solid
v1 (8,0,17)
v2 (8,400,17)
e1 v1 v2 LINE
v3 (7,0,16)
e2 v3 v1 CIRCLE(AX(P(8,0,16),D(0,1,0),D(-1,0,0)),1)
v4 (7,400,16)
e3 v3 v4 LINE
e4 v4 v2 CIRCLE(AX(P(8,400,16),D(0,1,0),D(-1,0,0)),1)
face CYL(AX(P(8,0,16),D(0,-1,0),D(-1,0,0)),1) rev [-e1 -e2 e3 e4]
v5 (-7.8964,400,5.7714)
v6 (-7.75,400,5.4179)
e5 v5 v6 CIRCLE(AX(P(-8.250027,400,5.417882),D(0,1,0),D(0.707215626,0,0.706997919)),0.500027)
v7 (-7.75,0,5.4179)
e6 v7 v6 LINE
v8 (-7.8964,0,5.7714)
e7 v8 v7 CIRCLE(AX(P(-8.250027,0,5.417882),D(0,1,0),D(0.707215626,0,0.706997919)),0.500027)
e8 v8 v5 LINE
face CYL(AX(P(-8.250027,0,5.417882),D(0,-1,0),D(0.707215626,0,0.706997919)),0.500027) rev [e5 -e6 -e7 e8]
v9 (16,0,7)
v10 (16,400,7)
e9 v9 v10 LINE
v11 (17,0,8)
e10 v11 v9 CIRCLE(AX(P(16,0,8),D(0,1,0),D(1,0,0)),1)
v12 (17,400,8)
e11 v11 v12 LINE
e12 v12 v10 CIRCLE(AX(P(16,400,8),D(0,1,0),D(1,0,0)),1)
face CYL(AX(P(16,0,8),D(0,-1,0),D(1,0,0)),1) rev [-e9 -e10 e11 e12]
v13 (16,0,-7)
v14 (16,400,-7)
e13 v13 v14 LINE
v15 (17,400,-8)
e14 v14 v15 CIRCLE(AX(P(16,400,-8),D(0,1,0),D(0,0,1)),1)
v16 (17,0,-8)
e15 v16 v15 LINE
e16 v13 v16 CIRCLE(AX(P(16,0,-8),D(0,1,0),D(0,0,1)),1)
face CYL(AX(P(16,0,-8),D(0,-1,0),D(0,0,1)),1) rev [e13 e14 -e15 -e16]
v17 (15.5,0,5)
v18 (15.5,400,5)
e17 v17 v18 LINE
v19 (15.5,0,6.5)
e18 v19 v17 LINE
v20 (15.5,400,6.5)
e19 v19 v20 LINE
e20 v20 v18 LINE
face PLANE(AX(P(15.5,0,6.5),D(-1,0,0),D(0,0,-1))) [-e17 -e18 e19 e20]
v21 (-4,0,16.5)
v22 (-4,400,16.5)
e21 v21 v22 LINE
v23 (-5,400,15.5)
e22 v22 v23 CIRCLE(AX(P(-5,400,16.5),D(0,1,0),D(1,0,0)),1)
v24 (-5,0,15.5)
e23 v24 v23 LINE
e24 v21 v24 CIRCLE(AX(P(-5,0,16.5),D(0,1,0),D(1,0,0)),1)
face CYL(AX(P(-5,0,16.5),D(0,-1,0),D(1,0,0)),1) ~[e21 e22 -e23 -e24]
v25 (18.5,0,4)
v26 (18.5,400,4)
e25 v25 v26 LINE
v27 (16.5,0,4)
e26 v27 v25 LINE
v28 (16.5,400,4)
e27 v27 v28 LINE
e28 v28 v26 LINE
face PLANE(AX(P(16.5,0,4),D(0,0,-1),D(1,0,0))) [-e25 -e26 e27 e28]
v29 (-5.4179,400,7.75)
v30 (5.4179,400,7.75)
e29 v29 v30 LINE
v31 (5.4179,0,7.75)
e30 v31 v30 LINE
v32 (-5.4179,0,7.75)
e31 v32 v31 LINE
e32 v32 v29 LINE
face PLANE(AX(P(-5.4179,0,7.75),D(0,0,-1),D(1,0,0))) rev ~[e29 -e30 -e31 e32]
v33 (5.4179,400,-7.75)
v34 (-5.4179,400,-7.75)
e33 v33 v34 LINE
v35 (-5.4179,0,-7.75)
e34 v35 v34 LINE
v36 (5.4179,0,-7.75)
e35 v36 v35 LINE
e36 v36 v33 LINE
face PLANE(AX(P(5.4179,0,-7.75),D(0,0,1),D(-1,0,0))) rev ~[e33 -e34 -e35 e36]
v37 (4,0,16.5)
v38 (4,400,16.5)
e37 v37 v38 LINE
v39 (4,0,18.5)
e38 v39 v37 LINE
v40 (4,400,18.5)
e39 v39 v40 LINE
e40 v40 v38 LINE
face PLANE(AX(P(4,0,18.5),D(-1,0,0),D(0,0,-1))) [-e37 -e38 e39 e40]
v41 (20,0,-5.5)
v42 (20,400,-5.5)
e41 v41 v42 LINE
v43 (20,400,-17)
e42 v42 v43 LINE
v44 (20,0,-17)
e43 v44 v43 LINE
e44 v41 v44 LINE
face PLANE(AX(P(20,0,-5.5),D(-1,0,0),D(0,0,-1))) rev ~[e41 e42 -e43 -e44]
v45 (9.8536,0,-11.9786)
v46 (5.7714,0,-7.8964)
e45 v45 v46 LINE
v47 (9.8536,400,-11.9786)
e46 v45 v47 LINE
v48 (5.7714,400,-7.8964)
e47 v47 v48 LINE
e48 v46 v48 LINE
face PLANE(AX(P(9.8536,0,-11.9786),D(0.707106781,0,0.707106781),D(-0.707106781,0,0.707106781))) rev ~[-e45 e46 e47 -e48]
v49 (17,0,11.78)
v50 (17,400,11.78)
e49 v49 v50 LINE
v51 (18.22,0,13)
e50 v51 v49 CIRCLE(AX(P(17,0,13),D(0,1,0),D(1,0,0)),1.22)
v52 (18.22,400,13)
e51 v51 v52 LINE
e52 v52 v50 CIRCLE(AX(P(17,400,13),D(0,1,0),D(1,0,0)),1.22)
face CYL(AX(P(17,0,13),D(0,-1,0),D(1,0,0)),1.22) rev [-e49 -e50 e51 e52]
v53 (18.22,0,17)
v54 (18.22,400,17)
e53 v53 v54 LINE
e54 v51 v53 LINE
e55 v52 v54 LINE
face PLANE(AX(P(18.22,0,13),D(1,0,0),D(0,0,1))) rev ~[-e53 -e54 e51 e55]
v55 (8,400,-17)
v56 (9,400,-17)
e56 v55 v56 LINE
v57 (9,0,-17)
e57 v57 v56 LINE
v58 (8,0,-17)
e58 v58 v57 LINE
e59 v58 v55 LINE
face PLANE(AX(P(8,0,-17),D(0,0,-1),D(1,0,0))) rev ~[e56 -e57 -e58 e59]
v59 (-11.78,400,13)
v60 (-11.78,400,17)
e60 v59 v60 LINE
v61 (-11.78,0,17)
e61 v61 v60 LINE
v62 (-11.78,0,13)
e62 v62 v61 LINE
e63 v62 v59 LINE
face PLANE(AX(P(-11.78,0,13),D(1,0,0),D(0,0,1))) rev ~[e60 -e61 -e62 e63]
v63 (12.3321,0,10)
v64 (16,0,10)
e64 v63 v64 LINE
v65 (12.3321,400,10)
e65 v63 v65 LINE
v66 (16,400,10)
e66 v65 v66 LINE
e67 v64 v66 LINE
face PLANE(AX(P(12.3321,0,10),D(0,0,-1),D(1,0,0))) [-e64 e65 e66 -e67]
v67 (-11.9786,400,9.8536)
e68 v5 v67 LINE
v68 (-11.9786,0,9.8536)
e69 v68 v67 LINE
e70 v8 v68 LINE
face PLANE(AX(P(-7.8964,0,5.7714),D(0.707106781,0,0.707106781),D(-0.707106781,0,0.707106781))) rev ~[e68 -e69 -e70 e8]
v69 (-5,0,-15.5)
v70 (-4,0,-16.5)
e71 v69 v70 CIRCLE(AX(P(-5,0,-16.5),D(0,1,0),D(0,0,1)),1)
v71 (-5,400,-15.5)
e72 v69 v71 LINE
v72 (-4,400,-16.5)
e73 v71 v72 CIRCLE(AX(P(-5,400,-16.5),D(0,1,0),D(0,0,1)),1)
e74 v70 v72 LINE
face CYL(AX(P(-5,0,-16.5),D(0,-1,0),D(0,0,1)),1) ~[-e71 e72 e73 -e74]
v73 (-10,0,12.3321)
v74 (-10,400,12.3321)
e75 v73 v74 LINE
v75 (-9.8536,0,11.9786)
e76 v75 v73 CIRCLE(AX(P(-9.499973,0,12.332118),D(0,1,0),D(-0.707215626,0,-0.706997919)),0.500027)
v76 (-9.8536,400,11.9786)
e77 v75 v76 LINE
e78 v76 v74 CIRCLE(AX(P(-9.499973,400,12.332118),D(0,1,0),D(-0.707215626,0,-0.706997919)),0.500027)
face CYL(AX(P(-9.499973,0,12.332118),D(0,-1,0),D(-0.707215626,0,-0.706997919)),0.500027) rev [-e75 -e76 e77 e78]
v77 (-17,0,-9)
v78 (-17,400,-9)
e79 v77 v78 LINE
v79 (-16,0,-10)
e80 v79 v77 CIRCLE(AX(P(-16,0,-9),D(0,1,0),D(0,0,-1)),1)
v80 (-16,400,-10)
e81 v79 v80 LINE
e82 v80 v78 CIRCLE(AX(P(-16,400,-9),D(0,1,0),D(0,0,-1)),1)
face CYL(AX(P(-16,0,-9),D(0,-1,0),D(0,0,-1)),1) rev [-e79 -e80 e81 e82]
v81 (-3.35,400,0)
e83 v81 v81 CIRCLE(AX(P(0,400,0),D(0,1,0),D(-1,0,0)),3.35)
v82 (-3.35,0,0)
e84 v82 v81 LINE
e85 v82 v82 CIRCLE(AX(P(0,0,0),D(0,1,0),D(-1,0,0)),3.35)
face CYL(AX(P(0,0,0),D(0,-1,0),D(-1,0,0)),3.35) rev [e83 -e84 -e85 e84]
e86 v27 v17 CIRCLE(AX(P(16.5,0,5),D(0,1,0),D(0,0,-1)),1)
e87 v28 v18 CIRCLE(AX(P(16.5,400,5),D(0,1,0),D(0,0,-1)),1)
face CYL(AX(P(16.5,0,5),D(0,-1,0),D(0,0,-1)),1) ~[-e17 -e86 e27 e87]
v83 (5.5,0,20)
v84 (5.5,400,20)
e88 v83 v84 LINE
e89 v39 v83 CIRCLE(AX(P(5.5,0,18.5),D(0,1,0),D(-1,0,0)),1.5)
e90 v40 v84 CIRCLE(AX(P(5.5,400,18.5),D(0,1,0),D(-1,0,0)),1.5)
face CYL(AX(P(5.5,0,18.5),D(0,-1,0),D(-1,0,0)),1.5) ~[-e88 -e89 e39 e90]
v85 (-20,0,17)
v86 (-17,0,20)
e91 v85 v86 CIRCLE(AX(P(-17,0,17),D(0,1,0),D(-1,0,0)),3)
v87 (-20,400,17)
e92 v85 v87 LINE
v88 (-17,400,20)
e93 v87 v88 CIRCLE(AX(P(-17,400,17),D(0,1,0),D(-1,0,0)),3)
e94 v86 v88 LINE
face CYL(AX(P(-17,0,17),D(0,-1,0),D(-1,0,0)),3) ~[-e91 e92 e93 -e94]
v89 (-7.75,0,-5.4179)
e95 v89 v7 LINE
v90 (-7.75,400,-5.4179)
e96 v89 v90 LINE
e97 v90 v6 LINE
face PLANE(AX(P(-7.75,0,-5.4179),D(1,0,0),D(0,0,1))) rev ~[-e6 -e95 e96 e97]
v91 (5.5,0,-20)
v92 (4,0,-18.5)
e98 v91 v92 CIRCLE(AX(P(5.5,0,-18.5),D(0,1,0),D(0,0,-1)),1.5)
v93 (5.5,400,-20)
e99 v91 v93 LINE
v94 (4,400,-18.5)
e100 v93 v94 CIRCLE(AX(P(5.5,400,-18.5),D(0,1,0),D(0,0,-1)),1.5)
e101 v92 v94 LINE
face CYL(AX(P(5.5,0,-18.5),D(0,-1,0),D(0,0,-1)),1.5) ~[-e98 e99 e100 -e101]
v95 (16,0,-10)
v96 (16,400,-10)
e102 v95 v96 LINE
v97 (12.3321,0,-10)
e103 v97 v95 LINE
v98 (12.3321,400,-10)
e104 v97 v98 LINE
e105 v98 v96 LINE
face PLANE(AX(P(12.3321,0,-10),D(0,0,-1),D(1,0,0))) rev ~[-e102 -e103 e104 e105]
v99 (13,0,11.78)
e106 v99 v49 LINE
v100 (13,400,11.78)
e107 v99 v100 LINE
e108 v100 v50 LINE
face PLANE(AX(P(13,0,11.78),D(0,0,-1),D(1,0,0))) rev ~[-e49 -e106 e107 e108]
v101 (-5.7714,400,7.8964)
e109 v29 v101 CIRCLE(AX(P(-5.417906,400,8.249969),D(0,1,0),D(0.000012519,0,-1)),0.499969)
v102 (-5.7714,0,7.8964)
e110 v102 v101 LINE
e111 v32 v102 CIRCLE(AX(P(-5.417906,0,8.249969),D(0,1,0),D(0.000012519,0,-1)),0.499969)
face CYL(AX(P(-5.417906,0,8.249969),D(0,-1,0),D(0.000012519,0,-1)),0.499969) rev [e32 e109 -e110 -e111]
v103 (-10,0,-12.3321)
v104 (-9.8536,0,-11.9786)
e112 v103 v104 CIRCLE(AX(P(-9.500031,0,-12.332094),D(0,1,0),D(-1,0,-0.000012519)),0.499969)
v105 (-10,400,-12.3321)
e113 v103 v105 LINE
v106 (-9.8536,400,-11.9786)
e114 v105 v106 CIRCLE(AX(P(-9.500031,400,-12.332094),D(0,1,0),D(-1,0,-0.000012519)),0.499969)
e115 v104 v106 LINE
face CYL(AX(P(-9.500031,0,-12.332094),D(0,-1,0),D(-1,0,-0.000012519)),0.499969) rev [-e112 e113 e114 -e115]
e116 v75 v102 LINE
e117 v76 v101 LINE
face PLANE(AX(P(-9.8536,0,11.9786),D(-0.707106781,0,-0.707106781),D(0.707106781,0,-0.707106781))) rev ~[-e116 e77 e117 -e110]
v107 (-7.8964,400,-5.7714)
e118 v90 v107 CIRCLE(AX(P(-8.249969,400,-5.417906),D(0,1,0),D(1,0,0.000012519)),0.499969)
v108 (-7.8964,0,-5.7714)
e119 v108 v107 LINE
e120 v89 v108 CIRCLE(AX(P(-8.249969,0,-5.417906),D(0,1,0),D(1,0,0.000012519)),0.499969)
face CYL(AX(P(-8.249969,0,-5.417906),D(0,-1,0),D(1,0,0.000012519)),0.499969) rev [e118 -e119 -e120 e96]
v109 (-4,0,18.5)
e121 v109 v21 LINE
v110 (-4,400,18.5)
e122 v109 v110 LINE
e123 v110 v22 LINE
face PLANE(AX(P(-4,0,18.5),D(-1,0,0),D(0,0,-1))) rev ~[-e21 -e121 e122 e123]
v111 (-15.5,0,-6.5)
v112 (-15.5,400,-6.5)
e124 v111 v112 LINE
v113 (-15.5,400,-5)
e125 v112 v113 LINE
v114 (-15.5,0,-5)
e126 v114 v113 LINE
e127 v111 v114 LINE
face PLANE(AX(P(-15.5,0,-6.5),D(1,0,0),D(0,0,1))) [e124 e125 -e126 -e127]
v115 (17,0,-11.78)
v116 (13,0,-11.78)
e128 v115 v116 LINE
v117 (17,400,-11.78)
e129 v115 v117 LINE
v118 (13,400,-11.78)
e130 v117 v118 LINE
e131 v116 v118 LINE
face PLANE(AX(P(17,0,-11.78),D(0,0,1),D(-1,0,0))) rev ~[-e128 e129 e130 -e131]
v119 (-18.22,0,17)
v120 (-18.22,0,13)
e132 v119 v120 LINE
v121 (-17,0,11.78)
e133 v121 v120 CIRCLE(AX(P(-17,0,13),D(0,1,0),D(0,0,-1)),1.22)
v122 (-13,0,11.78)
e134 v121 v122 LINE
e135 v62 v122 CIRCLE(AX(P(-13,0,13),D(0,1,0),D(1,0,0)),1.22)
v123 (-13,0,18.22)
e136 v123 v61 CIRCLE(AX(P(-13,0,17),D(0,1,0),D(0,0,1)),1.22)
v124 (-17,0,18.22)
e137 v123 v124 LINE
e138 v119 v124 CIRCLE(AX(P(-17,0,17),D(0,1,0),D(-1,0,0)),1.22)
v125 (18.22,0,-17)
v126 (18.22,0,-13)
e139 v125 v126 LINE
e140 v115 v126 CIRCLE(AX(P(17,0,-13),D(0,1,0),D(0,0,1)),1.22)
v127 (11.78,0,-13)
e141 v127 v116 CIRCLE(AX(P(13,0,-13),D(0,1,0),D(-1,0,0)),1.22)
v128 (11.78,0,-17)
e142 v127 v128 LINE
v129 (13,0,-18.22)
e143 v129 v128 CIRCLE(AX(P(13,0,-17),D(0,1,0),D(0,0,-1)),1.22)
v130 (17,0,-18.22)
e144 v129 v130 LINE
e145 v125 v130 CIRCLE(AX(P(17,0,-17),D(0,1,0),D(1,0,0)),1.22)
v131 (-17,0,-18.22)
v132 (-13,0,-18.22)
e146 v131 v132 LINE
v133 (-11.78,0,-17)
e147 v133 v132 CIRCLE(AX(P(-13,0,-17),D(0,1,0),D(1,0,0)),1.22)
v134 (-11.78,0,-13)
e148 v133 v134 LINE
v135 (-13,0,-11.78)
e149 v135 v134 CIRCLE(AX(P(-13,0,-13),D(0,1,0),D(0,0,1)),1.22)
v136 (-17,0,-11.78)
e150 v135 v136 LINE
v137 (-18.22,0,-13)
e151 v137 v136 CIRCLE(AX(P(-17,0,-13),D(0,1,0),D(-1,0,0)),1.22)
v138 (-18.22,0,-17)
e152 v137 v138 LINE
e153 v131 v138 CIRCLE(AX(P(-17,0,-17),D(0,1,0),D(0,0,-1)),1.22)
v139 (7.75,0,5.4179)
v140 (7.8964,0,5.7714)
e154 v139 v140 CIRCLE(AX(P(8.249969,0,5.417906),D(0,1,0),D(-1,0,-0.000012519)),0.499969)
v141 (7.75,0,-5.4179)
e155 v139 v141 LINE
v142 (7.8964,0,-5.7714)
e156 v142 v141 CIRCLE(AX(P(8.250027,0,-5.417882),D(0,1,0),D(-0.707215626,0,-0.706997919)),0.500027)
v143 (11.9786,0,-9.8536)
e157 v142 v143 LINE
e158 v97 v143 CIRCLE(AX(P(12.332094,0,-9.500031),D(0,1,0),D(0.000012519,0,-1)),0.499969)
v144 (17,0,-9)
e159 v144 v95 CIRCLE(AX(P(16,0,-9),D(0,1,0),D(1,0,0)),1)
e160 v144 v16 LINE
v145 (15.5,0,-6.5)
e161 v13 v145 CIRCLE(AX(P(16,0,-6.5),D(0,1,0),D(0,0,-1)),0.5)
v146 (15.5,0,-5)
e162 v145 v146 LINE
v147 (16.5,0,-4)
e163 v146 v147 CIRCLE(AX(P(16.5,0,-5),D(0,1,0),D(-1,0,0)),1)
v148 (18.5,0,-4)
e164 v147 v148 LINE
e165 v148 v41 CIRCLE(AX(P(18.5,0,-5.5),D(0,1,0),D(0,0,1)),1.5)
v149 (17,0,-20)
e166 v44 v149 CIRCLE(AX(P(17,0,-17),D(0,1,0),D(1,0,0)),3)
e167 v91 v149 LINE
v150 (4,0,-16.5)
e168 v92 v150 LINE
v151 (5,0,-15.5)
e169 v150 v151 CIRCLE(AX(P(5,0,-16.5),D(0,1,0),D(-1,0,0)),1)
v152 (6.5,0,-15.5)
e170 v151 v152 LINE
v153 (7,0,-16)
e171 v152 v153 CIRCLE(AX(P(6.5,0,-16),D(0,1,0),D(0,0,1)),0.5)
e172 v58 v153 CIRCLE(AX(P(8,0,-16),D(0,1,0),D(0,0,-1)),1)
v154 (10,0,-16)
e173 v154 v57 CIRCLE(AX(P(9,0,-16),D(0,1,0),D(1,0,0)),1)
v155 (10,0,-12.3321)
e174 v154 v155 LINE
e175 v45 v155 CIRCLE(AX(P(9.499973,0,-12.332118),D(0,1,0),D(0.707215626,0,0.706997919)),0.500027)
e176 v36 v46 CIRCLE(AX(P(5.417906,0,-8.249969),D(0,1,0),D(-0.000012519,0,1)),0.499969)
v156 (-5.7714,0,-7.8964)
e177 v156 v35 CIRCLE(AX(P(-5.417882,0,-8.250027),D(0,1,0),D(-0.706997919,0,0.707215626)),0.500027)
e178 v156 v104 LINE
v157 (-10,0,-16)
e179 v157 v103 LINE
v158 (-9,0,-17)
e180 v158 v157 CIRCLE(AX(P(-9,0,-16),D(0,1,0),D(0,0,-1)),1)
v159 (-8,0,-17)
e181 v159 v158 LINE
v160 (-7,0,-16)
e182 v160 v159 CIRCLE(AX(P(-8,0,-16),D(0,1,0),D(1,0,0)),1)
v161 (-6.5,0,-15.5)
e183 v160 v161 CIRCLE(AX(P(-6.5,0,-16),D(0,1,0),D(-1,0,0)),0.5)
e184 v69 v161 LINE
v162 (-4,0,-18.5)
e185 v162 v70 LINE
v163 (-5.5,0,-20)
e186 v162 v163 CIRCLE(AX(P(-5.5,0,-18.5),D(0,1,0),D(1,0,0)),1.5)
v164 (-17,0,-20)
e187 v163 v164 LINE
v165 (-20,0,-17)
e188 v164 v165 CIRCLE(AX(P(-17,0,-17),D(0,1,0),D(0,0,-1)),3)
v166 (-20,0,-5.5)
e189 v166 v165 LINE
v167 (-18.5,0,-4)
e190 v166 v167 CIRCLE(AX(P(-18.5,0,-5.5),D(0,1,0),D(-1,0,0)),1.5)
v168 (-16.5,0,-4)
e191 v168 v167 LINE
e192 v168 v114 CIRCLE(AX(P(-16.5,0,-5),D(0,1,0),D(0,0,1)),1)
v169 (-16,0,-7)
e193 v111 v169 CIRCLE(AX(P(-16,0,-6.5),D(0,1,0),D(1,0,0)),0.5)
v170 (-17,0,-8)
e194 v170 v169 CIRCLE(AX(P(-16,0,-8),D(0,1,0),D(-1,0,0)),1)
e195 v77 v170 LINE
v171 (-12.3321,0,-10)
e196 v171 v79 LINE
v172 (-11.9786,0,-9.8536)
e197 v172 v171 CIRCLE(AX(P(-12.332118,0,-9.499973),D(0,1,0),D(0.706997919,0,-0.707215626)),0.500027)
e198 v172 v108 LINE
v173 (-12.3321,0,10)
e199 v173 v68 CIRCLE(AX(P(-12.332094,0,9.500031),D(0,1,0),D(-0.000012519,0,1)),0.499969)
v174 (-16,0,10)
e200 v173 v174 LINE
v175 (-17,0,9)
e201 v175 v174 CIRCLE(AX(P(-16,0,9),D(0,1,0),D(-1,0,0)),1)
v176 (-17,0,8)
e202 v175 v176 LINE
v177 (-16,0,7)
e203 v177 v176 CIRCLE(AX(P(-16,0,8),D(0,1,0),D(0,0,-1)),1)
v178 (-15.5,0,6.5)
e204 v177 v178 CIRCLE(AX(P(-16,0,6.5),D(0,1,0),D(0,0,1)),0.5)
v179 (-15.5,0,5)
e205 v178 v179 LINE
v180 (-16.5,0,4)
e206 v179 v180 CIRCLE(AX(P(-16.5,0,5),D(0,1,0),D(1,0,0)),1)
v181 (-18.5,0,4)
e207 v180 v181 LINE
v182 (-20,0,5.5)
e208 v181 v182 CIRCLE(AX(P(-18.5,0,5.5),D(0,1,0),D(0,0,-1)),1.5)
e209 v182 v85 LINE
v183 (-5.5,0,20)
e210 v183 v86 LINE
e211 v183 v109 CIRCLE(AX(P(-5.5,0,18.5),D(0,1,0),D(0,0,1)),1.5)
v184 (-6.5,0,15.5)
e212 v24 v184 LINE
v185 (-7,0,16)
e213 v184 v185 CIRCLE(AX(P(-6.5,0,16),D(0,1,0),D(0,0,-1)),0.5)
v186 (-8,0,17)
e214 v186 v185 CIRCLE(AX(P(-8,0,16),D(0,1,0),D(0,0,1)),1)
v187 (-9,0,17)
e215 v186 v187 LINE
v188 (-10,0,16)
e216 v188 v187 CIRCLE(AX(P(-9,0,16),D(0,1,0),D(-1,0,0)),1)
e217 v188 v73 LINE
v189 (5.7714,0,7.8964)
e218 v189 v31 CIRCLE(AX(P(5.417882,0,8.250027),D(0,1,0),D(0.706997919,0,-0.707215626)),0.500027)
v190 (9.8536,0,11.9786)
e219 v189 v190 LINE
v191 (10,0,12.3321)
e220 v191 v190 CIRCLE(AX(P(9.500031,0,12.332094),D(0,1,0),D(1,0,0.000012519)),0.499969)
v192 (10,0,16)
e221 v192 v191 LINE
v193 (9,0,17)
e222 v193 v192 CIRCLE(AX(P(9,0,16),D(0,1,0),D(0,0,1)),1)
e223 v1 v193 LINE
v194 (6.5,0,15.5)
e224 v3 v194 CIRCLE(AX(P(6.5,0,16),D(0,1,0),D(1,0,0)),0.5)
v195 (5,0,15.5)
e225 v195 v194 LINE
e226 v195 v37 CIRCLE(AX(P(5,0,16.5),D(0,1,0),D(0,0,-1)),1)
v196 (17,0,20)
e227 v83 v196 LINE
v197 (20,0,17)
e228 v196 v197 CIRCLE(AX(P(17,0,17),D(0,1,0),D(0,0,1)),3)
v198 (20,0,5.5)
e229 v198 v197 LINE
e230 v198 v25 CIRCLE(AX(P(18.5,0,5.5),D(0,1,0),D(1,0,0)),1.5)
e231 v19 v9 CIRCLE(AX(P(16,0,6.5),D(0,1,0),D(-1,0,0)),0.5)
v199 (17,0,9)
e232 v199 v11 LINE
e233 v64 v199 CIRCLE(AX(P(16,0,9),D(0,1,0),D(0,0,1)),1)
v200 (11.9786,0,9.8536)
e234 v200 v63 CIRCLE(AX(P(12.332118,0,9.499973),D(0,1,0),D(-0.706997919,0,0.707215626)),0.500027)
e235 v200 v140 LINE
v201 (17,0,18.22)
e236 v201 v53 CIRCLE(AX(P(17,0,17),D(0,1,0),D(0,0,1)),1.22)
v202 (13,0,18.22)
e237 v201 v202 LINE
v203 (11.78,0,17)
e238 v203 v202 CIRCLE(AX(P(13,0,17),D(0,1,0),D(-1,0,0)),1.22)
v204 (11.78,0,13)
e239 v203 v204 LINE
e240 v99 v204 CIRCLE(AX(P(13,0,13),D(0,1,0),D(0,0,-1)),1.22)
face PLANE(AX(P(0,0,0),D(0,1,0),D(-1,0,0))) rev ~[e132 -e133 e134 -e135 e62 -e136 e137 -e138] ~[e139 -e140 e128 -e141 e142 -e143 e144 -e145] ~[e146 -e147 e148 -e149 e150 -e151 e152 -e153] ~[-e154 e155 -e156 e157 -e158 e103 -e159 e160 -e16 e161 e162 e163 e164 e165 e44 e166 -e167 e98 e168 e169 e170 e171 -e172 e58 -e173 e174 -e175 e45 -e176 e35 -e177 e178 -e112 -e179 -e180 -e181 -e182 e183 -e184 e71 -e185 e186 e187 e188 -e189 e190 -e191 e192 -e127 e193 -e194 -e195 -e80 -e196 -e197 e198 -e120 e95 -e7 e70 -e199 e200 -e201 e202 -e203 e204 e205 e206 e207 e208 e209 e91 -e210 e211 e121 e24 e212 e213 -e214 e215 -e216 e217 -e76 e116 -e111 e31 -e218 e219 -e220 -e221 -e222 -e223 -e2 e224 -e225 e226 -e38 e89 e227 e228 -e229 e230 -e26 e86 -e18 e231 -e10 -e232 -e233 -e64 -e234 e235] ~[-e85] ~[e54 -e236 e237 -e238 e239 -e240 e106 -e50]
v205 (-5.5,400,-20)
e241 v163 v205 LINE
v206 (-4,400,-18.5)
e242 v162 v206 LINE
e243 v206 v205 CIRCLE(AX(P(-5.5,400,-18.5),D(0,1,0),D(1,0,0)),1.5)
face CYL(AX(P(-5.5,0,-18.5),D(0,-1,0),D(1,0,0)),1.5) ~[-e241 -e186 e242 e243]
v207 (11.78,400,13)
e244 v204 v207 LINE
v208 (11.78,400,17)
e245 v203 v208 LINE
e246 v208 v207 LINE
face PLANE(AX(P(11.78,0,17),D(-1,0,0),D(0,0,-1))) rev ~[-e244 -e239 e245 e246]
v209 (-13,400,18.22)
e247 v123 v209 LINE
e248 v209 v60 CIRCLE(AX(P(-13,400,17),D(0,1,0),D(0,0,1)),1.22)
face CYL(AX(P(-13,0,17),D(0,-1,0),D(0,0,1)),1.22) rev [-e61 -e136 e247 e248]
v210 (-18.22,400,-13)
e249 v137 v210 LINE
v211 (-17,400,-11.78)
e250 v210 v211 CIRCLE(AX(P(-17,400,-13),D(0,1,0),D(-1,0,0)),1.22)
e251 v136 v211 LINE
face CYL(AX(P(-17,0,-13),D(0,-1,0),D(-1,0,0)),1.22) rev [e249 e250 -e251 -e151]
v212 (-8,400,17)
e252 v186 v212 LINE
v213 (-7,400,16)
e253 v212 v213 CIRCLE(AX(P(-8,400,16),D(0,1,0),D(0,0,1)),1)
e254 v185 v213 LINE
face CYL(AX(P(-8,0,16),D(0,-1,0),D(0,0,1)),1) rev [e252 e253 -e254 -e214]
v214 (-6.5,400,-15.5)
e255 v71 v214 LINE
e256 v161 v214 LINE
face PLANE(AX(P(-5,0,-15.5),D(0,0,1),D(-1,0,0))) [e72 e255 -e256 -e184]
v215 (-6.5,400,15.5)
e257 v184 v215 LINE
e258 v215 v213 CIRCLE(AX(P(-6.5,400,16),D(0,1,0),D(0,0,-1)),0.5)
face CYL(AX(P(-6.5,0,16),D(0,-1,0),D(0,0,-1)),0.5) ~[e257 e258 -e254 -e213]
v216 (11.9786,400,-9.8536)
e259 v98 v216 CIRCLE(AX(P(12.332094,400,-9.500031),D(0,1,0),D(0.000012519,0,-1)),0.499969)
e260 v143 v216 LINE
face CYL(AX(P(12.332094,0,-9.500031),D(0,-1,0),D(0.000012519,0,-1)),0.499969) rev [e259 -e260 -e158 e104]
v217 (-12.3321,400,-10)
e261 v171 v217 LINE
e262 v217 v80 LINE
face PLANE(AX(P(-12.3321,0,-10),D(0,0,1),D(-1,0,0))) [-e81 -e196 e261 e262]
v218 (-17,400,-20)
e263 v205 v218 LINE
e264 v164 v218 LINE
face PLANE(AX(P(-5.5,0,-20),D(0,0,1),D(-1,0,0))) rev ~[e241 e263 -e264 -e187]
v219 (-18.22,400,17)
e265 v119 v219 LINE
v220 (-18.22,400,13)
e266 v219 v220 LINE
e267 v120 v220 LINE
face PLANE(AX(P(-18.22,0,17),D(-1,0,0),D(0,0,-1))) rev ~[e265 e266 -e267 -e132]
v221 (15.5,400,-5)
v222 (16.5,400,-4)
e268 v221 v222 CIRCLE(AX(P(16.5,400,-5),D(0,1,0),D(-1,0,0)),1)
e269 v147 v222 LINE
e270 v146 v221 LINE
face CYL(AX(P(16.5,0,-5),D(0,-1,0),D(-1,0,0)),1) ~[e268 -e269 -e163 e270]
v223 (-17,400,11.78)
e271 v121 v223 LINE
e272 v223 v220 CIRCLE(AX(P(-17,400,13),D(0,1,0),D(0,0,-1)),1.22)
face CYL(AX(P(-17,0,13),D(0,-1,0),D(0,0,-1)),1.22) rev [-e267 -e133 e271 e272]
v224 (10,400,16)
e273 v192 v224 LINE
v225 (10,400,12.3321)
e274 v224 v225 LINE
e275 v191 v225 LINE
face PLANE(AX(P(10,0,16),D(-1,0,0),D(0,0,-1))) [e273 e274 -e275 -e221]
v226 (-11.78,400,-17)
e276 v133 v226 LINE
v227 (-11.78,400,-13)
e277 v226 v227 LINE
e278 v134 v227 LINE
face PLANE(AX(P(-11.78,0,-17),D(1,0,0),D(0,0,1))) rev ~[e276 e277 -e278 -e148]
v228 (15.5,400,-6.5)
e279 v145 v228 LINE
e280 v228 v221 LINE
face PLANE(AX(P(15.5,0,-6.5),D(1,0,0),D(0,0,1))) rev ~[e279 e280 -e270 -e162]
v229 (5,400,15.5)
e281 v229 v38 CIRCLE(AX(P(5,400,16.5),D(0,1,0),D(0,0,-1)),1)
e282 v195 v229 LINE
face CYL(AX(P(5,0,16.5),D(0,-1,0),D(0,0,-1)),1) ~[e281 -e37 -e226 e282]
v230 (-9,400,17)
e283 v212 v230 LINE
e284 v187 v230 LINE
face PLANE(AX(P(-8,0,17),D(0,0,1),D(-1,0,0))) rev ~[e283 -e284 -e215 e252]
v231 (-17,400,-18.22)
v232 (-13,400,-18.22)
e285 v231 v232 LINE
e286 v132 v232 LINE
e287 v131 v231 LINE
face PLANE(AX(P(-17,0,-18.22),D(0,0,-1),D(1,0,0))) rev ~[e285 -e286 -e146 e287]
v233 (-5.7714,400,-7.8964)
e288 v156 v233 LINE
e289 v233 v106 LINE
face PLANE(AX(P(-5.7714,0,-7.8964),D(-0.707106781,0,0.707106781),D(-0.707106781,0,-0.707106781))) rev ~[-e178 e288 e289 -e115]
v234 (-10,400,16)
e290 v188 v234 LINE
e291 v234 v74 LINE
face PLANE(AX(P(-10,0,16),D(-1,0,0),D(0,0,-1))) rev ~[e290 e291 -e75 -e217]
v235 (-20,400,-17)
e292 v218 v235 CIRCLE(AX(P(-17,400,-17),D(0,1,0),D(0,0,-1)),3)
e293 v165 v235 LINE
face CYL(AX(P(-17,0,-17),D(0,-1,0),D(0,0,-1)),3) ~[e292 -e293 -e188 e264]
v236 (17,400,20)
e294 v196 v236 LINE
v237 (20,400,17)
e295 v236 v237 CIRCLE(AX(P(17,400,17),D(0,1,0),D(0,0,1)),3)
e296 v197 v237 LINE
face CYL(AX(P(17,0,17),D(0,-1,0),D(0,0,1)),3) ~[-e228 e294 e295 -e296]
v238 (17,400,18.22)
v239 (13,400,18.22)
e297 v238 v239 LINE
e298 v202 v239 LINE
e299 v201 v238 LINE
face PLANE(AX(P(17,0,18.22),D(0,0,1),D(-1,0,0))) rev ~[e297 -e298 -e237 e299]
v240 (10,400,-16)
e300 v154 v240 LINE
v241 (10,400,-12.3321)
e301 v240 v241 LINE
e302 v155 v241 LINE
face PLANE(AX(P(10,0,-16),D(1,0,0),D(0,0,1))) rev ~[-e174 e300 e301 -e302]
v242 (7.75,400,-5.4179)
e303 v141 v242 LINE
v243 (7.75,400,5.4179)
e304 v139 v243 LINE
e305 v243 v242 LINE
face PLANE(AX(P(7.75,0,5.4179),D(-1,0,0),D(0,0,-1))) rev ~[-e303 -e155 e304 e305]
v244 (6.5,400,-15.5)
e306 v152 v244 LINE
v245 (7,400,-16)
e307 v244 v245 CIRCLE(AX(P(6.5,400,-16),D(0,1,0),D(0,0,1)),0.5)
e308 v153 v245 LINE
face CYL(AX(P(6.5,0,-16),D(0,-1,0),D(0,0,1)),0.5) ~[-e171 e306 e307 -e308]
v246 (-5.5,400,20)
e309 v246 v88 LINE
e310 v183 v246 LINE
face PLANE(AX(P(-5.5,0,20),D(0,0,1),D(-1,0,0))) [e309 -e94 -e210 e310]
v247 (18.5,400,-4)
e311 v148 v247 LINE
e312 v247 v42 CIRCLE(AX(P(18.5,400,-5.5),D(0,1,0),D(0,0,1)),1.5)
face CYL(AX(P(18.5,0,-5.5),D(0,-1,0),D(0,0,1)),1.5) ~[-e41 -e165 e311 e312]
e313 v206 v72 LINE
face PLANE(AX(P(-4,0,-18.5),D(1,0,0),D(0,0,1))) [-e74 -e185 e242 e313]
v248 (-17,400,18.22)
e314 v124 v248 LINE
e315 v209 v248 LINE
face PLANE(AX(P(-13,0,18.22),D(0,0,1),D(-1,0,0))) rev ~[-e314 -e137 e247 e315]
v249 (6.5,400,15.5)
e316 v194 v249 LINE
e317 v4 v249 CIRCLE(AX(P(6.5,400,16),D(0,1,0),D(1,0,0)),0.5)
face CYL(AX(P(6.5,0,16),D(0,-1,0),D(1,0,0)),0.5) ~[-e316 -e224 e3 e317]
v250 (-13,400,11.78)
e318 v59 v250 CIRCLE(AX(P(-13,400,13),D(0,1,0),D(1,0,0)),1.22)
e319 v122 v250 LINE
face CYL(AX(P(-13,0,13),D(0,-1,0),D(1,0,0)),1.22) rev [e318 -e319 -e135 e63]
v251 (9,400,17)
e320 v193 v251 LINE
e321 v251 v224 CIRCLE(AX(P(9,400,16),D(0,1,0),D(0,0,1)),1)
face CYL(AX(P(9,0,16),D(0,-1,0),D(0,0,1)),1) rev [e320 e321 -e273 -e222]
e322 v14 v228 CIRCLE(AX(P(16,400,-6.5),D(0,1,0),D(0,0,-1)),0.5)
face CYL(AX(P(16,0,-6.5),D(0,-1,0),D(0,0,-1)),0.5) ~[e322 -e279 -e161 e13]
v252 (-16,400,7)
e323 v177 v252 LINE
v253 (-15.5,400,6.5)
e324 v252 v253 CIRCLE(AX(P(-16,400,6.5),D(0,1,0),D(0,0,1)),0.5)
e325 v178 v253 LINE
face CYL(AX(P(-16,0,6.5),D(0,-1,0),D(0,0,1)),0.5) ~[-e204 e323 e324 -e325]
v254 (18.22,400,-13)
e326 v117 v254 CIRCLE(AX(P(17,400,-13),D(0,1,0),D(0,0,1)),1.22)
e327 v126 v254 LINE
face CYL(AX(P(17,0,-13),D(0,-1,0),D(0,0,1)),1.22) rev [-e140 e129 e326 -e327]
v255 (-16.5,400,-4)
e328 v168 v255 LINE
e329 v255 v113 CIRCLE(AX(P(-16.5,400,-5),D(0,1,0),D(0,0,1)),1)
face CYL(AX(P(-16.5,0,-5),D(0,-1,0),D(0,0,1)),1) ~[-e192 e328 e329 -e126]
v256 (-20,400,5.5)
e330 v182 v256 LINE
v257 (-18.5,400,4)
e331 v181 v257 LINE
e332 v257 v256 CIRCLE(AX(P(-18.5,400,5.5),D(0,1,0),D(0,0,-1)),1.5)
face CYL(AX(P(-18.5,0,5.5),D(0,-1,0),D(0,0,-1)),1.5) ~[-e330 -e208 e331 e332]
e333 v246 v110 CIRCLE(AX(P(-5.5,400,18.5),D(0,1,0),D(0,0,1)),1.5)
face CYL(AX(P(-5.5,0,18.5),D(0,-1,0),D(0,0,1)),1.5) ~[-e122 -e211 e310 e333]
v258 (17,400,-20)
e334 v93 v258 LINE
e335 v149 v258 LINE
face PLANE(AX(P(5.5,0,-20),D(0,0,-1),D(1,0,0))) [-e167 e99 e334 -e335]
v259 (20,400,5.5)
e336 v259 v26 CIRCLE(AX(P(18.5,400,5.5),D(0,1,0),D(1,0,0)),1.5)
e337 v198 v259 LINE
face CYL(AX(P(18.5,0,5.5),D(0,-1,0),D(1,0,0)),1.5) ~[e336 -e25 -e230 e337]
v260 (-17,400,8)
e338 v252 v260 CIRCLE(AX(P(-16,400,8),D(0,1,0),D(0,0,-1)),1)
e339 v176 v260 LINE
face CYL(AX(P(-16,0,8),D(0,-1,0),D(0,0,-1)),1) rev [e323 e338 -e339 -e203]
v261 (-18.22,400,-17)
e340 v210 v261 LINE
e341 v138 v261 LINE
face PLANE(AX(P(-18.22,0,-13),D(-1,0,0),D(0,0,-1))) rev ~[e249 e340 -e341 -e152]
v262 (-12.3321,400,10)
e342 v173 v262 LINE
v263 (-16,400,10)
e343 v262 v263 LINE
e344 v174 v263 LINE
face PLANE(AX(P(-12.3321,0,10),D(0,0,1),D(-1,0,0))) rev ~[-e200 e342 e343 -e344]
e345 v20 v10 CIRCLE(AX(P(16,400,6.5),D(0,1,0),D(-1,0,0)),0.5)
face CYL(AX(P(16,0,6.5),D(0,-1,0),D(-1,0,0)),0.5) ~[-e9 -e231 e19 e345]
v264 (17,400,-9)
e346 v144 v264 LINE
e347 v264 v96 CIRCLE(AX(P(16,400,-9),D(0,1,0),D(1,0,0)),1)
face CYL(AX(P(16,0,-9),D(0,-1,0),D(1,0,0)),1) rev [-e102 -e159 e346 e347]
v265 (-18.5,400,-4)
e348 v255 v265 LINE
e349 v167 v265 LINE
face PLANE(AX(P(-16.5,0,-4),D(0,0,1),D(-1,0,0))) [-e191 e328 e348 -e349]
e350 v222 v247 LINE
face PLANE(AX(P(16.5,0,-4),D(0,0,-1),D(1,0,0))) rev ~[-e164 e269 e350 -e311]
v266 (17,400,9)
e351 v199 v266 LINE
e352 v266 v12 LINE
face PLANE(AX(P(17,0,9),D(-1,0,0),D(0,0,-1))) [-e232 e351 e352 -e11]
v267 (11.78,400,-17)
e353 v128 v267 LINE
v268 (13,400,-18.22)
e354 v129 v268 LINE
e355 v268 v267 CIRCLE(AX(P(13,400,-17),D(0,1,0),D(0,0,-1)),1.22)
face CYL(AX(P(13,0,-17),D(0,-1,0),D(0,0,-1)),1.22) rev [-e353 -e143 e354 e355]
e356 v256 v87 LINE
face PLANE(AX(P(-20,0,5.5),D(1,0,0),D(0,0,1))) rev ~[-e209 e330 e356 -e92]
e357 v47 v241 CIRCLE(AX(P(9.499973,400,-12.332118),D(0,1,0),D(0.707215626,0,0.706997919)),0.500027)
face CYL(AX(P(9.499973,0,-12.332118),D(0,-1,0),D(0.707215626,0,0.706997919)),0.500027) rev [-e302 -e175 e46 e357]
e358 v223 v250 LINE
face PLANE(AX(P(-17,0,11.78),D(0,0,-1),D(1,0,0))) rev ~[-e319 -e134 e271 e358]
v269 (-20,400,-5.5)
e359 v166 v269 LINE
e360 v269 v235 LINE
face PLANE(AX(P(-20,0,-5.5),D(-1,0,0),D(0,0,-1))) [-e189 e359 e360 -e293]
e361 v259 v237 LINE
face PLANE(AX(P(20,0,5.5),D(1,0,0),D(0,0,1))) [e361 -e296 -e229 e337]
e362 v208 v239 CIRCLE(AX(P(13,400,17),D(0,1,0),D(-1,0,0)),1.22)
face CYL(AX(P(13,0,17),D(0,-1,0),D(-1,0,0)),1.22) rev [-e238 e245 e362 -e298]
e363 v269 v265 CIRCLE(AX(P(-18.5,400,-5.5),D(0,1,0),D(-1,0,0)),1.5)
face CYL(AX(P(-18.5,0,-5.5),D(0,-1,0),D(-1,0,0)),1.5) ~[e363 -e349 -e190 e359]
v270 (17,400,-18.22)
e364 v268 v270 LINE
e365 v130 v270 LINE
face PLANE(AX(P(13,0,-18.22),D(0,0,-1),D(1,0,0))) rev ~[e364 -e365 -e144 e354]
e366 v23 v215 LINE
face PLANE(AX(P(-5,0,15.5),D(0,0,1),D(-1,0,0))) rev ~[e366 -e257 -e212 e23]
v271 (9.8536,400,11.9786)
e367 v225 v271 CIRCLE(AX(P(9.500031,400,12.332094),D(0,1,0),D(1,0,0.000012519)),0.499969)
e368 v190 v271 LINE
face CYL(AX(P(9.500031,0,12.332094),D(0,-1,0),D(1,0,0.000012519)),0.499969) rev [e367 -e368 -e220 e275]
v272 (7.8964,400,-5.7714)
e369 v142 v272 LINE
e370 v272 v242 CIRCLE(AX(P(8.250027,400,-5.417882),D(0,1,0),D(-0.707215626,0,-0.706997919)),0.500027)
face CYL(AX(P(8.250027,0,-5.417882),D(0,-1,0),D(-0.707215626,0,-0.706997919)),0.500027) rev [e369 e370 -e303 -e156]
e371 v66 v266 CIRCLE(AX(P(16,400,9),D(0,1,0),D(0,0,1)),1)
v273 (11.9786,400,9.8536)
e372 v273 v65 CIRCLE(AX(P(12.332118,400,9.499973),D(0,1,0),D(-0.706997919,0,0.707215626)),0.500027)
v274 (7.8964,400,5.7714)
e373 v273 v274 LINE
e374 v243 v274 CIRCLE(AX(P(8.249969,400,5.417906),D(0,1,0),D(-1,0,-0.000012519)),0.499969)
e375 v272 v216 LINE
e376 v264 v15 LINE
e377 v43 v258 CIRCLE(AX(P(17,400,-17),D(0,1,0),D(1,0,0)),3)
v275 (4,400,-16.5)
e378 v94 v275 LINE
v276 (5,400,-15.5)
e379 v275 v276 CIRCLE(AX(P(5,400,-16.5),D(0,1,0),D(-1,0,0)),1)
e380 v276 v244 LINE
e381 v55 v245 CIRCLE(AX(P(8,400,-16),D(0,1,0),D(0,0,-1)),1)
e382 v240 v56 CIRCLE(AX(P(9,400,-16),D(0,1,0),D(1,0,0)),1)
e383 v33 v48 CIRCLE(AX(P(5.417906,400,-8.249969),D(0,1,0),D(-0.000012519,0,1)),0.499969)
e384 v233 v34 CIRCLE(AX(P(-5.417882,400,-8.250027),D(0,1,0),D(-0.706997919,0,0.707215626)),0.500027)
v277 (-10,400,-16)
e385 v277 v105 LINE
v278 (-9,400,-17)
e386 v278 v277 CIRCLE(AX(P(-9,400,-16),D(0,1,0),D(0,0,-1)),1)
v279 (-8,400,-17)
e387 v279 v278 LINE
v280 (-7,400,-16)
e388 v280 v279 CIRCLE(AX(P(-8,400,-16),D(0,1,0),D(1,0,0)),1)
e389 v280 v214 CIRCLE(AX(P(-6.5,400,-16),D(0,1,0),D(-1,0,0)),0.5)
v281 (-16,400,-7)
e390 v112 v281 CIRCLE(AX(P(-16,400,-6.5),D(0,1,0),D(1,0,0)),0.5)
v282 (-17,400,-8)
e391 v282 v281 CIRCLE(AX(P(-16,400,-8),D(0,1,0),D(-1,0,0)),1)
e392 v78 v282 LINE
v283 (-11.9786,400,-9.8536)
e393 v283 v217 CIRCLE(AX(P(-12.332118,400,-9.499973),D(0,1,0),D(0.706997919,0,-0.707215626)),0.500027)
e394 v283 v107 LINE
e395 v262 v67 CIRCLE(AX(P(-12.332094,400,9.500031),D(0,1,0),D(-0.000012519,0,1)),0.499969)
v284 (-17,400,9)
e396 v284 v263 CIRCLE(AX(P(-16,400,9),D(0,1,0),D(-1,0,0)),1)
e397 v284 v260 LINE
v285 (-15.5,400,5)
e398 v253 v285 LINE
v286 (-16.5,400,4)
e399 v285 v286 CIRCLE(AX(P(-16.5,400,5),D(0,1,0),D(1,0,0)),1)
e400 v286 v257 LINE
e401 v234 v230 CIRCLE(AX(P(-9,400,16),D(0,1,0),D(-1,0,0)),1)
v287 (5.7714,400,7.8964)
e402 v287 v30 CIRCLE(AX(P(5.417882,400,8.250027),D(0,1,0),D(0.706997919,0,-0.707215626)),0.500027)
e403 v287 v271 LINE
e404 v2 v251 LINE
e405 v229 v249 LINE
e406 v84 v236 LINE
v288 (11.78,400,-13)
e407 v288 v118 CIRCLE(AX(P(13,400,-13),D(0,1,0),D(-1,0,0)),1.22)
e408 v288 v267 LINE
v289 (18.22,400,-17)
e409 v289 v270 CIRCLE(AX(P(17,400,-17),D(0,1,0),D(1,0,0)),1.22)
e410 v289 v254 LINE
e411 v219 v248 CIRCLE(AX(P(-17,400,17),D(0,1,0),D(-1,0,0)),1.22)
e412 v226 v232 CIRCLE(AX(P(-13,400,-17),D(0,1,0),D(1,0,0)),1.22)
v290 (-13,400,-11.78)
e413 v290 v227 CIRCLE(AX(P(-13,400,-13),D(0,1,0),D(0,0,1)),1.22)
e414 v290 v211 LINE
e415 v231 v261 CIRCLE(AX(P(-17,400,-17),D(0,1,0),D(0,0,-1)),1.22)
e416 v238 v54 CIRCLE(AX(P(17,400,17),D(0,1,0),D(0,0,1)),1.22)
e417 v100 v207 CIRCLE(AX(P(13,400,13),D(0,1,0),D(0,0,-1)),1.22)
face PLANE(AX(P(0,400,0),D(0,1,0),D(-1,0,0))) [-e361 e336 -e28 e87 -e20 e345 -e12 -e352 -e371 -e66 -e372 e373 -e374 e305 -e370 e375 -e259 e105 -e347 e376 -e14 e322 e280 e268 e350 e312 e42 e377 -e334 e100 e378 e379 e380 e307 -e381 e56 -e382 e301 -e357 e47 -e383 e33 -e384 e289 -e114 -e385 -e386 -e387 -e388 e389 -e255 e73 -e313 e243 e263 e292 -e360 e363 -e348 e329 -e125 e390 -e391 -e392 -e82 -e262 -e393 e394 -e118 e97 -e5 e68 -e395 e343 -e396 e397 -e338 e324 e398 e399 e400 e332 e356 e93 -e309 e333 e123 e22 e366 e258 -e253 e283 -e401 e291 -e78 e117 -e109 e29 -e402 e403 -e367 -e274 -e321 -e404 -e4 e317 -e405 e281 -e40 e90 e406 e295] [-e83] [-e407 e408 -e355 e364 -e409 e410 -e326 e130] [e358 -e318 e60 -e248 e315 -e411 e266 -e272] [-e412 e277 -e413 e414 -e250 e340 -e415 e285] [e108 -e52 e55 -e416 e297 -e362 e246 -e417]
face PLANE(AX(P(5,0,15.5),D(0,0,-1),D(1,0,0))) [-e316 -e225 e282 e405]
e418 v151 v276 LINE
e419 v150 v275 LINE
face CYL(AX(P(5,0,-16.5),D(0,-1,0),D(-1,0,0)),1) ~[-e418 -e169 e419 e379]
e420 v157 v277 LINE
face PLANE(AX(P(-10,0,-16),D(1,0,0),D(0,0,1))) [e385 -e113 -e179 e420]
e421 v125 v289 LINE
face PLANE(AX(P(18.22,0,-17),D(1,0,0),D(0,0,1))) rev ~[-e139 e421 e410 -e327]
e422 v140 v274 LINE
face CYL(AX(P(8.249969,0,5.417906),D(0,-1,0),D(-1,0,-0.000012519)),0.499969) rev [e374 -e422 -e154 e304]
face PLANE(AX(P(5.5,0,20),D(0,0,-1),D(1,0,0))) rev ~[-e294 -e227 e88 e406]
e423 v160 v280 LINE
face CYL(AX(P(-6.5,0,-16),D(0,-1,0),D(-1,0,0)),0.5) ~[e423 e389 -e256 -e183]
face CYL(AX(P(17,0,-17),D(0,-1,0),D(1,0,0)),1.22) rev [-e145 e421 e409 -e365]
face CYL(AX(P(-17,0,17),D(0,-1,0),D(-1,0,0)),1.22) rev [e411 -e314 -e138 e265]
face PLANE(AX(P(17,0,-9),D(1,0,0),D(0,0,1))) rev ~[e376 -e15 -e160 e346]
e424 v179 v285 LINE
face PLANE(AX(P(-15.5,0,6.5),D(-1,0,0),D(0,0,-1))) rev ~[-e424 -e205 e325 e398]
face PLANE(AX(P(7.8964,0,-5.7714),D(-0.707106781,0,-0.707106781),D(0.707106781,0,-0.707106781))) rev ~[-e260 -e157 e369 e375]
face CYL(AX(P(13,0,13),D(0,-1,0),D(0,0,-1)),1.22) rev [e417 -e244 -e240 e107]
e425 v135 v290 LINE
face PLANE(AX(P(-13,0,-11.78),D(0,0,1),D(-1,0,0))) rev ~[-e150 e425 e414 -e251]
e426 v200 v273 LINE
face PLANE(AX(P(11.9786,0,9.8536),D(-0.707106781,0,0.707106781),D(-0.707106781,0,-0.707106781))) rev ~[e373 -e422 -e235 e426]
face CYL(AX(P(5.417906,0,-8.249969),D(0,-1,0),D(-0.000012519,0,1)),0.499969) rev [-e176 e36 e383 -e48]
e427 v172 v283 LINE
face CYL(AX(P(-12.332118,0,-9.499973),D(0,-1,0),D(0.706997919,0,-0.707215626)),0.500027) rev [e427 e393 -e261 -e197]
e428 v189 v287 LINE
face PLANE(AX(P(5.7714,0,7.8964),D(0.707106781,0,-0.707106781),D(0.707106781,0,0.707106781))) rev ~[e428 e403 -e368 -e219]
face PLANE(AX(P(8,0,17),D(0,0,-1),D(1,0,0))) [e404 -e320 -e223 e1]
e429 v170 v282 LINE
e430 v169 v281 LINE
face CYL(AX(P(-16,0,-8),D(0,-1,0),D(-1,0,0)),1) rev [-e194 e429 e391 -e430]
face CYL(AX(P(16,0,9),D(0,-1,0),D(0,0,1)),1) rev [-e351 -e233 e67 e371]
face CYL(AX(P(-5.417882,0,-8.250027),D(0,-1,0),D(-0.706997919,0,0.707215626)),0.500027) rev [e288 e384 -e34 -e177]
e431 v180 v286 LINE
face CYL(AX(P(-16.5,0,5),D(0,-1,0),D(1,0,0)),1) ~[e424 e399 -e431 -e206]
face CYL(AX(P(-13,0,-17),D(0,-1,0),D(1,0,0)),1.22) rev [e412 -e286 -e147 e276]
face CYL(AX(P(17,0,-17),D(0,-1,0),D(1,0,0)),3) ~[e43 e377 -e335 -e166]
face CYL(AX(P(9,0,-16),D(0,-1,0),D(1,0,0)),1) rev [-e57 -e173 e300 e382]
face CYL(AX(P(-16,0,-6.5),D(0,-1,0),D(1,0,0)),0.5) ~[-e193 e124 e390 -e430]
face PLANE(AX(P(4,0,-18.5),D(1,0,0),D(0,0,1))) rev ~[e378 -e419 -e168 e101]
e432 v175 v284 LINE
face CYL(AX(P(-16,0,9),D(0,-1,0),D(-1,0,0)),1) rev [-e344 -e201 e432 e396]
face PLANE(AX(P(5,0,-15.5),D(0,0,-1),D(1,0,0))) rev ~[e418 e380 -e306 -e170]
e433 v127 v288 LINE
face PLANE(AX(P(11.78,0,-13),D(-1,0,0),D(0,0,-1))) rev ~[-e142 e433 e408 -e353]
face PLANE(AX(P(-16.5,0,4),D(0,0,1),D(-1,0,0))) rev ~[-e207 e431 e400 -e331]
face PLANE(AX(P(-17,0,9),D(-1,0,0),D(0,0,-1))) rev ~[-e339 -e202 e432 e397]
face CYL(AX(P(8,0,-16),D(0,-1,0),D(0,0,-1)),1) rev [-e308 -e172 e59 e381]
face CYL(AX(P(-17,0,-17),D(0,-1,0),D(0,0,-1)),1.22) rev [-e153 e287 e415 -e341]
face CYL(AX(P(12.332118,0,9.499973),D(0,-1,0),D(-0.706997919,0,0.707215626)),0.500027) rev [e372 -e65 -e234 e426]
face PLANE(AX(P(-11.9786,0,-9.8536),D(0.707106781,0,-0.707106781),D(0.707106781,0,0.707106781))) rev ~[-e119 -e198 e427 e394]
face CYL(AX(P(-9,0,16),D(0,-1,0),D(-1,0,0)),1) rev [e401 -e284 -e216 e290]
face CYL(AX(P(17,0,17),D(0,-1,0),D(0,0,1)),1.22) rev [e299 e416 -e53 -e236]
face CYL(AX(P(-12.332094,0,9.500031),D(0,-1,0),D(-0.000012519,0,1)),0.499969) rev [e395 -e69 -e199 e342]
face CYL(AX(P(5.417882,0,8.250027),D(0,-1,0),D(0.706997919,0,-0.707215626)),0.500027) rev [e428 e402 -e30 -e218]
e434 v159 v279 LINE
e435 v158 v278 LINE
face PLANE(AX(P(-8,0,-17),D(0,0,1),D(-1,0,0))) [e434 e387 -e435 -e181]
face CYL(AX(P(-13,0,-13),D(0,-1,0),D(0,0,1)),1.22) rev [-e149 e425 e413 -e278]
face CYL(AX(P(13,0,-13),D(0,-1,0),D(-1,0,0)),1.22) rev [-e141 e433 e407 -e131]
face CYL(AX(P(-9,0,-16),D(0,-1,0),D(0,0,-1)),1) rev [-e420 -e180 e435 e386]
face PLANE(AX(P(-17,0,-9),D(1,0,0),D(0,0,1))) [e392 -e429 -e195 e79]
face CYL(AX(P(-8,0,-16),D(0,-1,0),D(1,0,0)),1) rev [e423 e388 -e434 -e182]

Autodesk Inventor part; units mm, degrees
ref_plane "YZ Plane" through (0, 0, 0) normal (1, 0, 0) x (0, 1, 0)
ref_plane "Start Plane" through (0, 0, 0) normal (0, 1, 0) x (-1, 0, 0)
ref_plane "End Plane" through (0, 400, 0) normal (0, 1, 0) x (-1, 0, 0)
sketch "Sketch1" plane through (0, 0, 0) normal (0, 1, 0) x (-1, 0, 0)
  arc A0 (-9.8536, -11.9786) -> (-10, -12.3321) centre (-9.5, -12.3321) ccw
  line L0 (-9.8536, -11.9786) -> (-5.7714, -7.8964)
  arc A1 (-5.4179, -7.75) -> (-5.7714, -7.8964) centre (-5.4179, -8.25) ccw
  line L1 (-5.4179, -7.75) -> (5.4179, -7.75)
  arc A2 (5.7714, -7.8964) -> (5.4179, -7.75) centre (5.4179, -8.25) ccw
  line L2 (5.7714, -7.8964) -> (9.8536, -11.9786)
  arc A3 (10, -12.3321) -> (9.8536, -11.9786) centre (9.5, -12.3321) ccw
  arc A4 (11.9786, -9.8536) -> (12.3321, -10) centre (12.3321, -9.5) ccw
  line L3 (11.9786, -9.8536) -> (7.8964, -5.7714)
  arc A5 (7.75, -5.4179) -> (7.8964, -5.7714) centre (8.25, -5.4179) ccw
  line L4 (7.75, -5.4179) -> (7.75, 5.4179)
  arc A6 (7.8964, 5.7714) -> (7.75, 5.4179) centre (8.25, 5.4179) ccw
  line L5 (7.8964, 5.7714) -> (11.9786, 9.8536)
  arc A7 (12.3321, 10) -> (11.9786, 9.8536) centre (12.3321, 9.5) ccw
  line L6 (12.3321, 10) -> (16, 10)
  arc A8 (17, 9) -> (16, 10) centre (16, 9) ccw
  line L7 (17, 9) -> (17, 8)
  arc A9 (16, 7) -> (17, 8) centre (16, 8) ccw
  arc A10 (16, 7) -> (15.5, 6.5) centre (16, 6.5) ccw
  line L8 (15.5, 6.5) -> (15.5, 5)
  arc A11 (15.5, 5) -> (16.5, 4) centre (16.5, 5) ccw
  line L9 (16.5, 4) -> (18.5, 4)
  line L10 (4, 18.5) -> (4, 16.5)
  arc A12 (4, 16.5) -> (5, 15.5) centre (5, 16.5) ccw
  line L11 (5, 15.5) -> (6.5, 15.5)
  arc A13 (6.5, 15.5) -> (7, 16) centre (6.5, 16) ccw
  arc A14 (8, 17) -> (7, 16) centre (8, 16) ccw
  line L12 (8, 17) -> (9, 17)
  arc A15 (10, 16) -> (9, 17) centre (9, 16) ccw
  line L13 (10, 16) -> (10, 12.3321)
  arc A16 (9.8536, 11.9786) -> (10, 12.3321) centre (9.5, 12.3321) ccw
  line L14 (9.8536, 11.9786) -> (5.7714, 7.8964)
  arc A17 (5.4179, 7.75) -> (5.7714, 7.8964) centre (5.4179, 8.25) ccw
  line L15 (5.4179, 7.75) -> (-5.4179, 7.75)
  arc A18 (-5.7714, 7.8964) -> (-5.4179, 7.75) centre (-5.4179, 8.25) ccw
  line L16 (-5.7714, 7.8964) -> (-9.8536, 11.9786)
  arc A19 (-10, 12.3321) -> (-9.8536, 11.9786) centre (-9.5, 12.3321) ccw
  arc A20 (-11.9786, 9.8536) -> (-12.3321, 10) centre (-12.3321, 9.5) ccw
  line L17 (-11.9786, 9.8536) -> (-7.8964, 5.7714)
  arc A21 (-7.75, 5.4179) -> (-7.8964, 5.7714) centre (-8.25, 5.4179) ccw
  line L18 (-7.75, 5.4179) -> (-7.75, -5.4179)
  arc A22 (-7.8964, -5.7714) -> (-7.75, -5.4179) centre (-8.25, -5.4179) ccw
  line L19 (-7.8964, -5.7714) -> (-11.9786, -9.8536)
  arc A23 (-12.3321, -10) -> (-11.9786, -9.8536) centre (-12.3321, -9.5) ccw
  line L20 (17, 11.78) -> (13, 11.78)
  arc A24 (11.78, 13) -> (13, 11.78) centre (13, 13) ccw
  line L21 (11.78, 13) -> (11.78, 17)
  arc A25 (13, 18.22) -> (11.78, 17) centre (13, 17) ccw
  line L22 (13, 18.22) -> (17, 18.22)
  arc A26 (18.22, 17) -> (17, 18.22) centre (17, 17) ccw
  line L23 (18.22, 17) -> (18.22, 13)
  arc A27 (17, 11.78) -> (18.22, 13) centre (17, 13) ccw
  line L24 (11.78, -17) -> (11.78, -13)
  arc A28 (13, -11.78) -> (11.78, -13) centre (13, -13) ccw
  line L25 (13, -11.78) -> (17, -11.78)
  arc A29 (18.22, -13) -> (17, -11.78) centre (17, -13) ccw
  line L26 (18.22, -13) -> (18.22, -17)
  arc A30 (17, -18.22) -> (18.22, -17) centre (17, -17) ccw
  line L27 (17, -18.22) -> (13, -18.22)
  arc A31 (11.78, -17) -> (13, -18.22) centre (13, -17) ccw
  line L28 (-17, -11.78) -> (-13, -11.78)
  arc A32 (-11.78, -13) -> (-13, -11.78) centre (-13, -13) ccw
  line L29 (-11.78, -13) -> (-11.78, -17)
  arc A33 (-13, -18.22) -> (-11.78, -17) centre (-13, -17) ccw
  line L30 (-13, -18.22) -> (-17, -18.22)
  arc A34 (-18.22, -17) -> (-17, -18.22) centre (-17, -17) ccw
  line L31 (-18.22, -17) -> (-18.22, -13)
  arc A35 (-17, -11.78) -> (-18.22, -13) centre (-17, -13) ccw
  line L32 (-18.22, 13) -> (-18.22, 17)
  arc A36 (-17, 18.22) -> (-18.22, 17) centre (-17, 17) ccw
  line L33 (-17, 18.22) -> (-13, 18.22)
  arc A37 (-11.78, 17) -> (-13, 18.22) centre (-13, 17) ccw
  line L34 (-11.78, 17) -> (-11.78, 13)
  arc A38 (-13, 11.78) -> (-11.78, 13) centre (-13, 13) ccw
  line L35 (-13, 11.78) -> (-17, 11.78)
  arc A39 (-18.22, 13) -> (-17, 11.78) centre (-17, 13) ccw
  circle A40 centre (0, 0) radius 3.35
  line L36 (5.5, 20) -> (17, 20)
  arc A41 (5.5, 20) -> (4, 18.5) centre (5.5, 18.5) ccw
  line L37 (20, 5.5) -> (20, 17)
  arc A42 (18.5, 4) -> (20, 5.5) centre (18.5, 5.5) ccw
  arc A43 (20, 17) -> (17, 20) centre (17, 17) ccw
  line L38 (12.3321, -10) -> (16, -10)
  arc A44 (16, -10) -> (17, -9) centre (16, -9) ccw
  line L39 (17, -9) -> (17, -8)
  arc A45 (17, -8) -> (16, -7) centre (16, -8) ccw
  arc A46 (15.5, -6.5) -> (16, -7) centre (16, -6.5) ccw
  line L40 (15.5, -6.5) -> (15.5, -5)
  arc A47 (16.5, -4) -> (15.5, -5) centre (16.5, -5) ccw
  line L41 (16.5, -4) -> (18.5, -4)
  line L42 (4, -18.5) -> (4, -16.5)
  arc A48 (5, -15.5) -> (4, -16.5) centre (5, -16.5) ccw
  line L43 (5, -15.5) -> (6.5, -15.5)
  arc A49 (7, -16) -> (6.5, -15.5) centre (6.5, -16) ccw
  arc A50 (7, -16) -> (8, -17) centre (8, -16) ccw
  line L44 (8, -17) -> (9, -17)
  arc A51 (9, -17) -> (10, -16) centre (9, -16) ccw
  line L45 (10, -16) -> (10, -12.3321)
  line L46 (5.5, -20) -> (17, -20)
  arc A52 (4, -18.5) -> (5.5, -20) centre (5.5, -18.5) ccw
  line L47 (20, -5.5) -> (20, -17)
  arc A53 (20, -5.5) -> (18.5, -4) centre (18.5, -5.5) ccw
  arc A54 (17, -20) -> (20, -17) centre (17, -17) ccw
  line L48 (-12.3321, 10) -> (-16, 10)
  arc A55 (-16, 10) -> (-17, 9) centre (-16, 9) ccw
  line L49 (-17, 9) -> (-17, 8)
  arc A56 (-17, 8) -> (-16, 7) centre (-16, 8) ccw
  arc A57 (-15.5, 6.5) -> (-16, 7) centre (-16, 6.5) ccw
  line L50 (-15.5, 6.5) -> (-15.5, 5)
  arc A58 (-16.5, 4) -> (-15.5, 5) centre (-16.5, 5) ccw
  line L51 (-16.5, 4) -> (-18.5, 4)
  line L52 (-4, 18.5) -> (-4, 16.5)
  arc A59 (-5, 15.5) -> (-4, 16.5) centre (-5, 16.5) ccw
  line L53 (-5, 15.5) -> (-6.5, 15.5)
  arc A60 (-7, 16) -> (-6.5, 15.5) centre (-6.5, 16) ccw
  arc A61 (-7, 16) -> (-8, 17) centre (-8, 16) ccw
  line L54 (-8, 17) -> (-9, 17)
  arc A62 (-9, 17) -> (-10, 16) centre (-9, 16) ccw
  line L55 (-10, 16) -> (-10, 12.3321)
  line L56 (-5.5, 20) -> (-17, 20)
  arc A63 (-4, 18.5) -> (-5.5, 20) centre (-5.5, 18.5) ccw
  line L57 (-20, 5.5) -> (-20, 17)
  arc A64 (-20, 5.5) -> (-18.5, 4) centre (-18.5, 5.5) ccw
  arc A65 (-17, 20) -> (-20, 17) centre (-17, 17) ccw
  line L58 (-12.3321, -10) -> (-16, -10)
  arc A66 (-17, -9) -> (-16, -10) centre (-16, -9) ccw
  line L59 (-17, -9) -> (-17, -8)
  arc A67 (-16, -7) -> (-17, -8) centre (-16, -8) ccw
  arc A68 (-16, -7) -> (-15.5, -6.5) centre (-16, -6.5) ccw
  line L60 (-15.5, -6.5) -> (-15.5, -5)
  arc A69 (-15.5, -5) -> (-16.5, -4) centre (-16.5, -5) ccw
  line L61 (-16.5, -4) -> (-18.5, -4)
  line L62 (-4, -18.5) -> (-4, -16.5)
  arc A70 (-4, -16.5) -> (-5, -15.5) centre (-5, -16.5) ccw
  line L63 (-5, -15.5) -> (-6.5, -15.5)
  arc A71 (-6.5, -15.5) -> (-7, -16) centre (-6.5, -16) ccw
  arc A72 (-8, -17) -> (-7, -16) centre (-8, -16) ccw
  line L64 (-8, -17) -> (-9, -17)
  arc A73 (-10, -16) -> (-9, -17) centre (-9, -16) ccw
  line L65 (-10, -16) -> (-10, -12.3321)
  line L66 (-5.5, -20) -> (-17, -20)
  arc A74 (-5.5, -20) -> (-4, -18.5) centre (-5.5, -18.5) ccw
  line L67 (-20, -5.5) -> (-20, -17)
  arc A75 (-18.5, -4) -> (-20, -5.5) centre (-18.5, -5.5) ccw
  arc A76 (-20, -17) -> (-17, -20) centre (-17, -17) ccw
extrude "Body" add sketch "Sketch1" along normal up to surface (400 mm away) from surface at 0
sketch "Sketch2" plane through (0, 0, 0) normal (0, 1, 0) x (-1, 0, 0)
  line L0 (0, 0) -> (10, 0)
ref_plane "Work Plane3" through (0, 0, 0) normal (0, 0, -1) x (-1, 0, 0)
sketch "Sketch3" plane through (0, 0, 0) normal (0, 0, -1) x (-1, 0, 0)
  line L0 (-2, 0) -> (12, 0)
  line L1 (-2, 400) -> (12, 400)
  dimension "d11" = 400
equation "\"G_OFFSET_START\" = 0"
equation "\"G_OFFSET_END\" = 0"
equation "\"G_L\" = d11"
properties part number "10-040"
